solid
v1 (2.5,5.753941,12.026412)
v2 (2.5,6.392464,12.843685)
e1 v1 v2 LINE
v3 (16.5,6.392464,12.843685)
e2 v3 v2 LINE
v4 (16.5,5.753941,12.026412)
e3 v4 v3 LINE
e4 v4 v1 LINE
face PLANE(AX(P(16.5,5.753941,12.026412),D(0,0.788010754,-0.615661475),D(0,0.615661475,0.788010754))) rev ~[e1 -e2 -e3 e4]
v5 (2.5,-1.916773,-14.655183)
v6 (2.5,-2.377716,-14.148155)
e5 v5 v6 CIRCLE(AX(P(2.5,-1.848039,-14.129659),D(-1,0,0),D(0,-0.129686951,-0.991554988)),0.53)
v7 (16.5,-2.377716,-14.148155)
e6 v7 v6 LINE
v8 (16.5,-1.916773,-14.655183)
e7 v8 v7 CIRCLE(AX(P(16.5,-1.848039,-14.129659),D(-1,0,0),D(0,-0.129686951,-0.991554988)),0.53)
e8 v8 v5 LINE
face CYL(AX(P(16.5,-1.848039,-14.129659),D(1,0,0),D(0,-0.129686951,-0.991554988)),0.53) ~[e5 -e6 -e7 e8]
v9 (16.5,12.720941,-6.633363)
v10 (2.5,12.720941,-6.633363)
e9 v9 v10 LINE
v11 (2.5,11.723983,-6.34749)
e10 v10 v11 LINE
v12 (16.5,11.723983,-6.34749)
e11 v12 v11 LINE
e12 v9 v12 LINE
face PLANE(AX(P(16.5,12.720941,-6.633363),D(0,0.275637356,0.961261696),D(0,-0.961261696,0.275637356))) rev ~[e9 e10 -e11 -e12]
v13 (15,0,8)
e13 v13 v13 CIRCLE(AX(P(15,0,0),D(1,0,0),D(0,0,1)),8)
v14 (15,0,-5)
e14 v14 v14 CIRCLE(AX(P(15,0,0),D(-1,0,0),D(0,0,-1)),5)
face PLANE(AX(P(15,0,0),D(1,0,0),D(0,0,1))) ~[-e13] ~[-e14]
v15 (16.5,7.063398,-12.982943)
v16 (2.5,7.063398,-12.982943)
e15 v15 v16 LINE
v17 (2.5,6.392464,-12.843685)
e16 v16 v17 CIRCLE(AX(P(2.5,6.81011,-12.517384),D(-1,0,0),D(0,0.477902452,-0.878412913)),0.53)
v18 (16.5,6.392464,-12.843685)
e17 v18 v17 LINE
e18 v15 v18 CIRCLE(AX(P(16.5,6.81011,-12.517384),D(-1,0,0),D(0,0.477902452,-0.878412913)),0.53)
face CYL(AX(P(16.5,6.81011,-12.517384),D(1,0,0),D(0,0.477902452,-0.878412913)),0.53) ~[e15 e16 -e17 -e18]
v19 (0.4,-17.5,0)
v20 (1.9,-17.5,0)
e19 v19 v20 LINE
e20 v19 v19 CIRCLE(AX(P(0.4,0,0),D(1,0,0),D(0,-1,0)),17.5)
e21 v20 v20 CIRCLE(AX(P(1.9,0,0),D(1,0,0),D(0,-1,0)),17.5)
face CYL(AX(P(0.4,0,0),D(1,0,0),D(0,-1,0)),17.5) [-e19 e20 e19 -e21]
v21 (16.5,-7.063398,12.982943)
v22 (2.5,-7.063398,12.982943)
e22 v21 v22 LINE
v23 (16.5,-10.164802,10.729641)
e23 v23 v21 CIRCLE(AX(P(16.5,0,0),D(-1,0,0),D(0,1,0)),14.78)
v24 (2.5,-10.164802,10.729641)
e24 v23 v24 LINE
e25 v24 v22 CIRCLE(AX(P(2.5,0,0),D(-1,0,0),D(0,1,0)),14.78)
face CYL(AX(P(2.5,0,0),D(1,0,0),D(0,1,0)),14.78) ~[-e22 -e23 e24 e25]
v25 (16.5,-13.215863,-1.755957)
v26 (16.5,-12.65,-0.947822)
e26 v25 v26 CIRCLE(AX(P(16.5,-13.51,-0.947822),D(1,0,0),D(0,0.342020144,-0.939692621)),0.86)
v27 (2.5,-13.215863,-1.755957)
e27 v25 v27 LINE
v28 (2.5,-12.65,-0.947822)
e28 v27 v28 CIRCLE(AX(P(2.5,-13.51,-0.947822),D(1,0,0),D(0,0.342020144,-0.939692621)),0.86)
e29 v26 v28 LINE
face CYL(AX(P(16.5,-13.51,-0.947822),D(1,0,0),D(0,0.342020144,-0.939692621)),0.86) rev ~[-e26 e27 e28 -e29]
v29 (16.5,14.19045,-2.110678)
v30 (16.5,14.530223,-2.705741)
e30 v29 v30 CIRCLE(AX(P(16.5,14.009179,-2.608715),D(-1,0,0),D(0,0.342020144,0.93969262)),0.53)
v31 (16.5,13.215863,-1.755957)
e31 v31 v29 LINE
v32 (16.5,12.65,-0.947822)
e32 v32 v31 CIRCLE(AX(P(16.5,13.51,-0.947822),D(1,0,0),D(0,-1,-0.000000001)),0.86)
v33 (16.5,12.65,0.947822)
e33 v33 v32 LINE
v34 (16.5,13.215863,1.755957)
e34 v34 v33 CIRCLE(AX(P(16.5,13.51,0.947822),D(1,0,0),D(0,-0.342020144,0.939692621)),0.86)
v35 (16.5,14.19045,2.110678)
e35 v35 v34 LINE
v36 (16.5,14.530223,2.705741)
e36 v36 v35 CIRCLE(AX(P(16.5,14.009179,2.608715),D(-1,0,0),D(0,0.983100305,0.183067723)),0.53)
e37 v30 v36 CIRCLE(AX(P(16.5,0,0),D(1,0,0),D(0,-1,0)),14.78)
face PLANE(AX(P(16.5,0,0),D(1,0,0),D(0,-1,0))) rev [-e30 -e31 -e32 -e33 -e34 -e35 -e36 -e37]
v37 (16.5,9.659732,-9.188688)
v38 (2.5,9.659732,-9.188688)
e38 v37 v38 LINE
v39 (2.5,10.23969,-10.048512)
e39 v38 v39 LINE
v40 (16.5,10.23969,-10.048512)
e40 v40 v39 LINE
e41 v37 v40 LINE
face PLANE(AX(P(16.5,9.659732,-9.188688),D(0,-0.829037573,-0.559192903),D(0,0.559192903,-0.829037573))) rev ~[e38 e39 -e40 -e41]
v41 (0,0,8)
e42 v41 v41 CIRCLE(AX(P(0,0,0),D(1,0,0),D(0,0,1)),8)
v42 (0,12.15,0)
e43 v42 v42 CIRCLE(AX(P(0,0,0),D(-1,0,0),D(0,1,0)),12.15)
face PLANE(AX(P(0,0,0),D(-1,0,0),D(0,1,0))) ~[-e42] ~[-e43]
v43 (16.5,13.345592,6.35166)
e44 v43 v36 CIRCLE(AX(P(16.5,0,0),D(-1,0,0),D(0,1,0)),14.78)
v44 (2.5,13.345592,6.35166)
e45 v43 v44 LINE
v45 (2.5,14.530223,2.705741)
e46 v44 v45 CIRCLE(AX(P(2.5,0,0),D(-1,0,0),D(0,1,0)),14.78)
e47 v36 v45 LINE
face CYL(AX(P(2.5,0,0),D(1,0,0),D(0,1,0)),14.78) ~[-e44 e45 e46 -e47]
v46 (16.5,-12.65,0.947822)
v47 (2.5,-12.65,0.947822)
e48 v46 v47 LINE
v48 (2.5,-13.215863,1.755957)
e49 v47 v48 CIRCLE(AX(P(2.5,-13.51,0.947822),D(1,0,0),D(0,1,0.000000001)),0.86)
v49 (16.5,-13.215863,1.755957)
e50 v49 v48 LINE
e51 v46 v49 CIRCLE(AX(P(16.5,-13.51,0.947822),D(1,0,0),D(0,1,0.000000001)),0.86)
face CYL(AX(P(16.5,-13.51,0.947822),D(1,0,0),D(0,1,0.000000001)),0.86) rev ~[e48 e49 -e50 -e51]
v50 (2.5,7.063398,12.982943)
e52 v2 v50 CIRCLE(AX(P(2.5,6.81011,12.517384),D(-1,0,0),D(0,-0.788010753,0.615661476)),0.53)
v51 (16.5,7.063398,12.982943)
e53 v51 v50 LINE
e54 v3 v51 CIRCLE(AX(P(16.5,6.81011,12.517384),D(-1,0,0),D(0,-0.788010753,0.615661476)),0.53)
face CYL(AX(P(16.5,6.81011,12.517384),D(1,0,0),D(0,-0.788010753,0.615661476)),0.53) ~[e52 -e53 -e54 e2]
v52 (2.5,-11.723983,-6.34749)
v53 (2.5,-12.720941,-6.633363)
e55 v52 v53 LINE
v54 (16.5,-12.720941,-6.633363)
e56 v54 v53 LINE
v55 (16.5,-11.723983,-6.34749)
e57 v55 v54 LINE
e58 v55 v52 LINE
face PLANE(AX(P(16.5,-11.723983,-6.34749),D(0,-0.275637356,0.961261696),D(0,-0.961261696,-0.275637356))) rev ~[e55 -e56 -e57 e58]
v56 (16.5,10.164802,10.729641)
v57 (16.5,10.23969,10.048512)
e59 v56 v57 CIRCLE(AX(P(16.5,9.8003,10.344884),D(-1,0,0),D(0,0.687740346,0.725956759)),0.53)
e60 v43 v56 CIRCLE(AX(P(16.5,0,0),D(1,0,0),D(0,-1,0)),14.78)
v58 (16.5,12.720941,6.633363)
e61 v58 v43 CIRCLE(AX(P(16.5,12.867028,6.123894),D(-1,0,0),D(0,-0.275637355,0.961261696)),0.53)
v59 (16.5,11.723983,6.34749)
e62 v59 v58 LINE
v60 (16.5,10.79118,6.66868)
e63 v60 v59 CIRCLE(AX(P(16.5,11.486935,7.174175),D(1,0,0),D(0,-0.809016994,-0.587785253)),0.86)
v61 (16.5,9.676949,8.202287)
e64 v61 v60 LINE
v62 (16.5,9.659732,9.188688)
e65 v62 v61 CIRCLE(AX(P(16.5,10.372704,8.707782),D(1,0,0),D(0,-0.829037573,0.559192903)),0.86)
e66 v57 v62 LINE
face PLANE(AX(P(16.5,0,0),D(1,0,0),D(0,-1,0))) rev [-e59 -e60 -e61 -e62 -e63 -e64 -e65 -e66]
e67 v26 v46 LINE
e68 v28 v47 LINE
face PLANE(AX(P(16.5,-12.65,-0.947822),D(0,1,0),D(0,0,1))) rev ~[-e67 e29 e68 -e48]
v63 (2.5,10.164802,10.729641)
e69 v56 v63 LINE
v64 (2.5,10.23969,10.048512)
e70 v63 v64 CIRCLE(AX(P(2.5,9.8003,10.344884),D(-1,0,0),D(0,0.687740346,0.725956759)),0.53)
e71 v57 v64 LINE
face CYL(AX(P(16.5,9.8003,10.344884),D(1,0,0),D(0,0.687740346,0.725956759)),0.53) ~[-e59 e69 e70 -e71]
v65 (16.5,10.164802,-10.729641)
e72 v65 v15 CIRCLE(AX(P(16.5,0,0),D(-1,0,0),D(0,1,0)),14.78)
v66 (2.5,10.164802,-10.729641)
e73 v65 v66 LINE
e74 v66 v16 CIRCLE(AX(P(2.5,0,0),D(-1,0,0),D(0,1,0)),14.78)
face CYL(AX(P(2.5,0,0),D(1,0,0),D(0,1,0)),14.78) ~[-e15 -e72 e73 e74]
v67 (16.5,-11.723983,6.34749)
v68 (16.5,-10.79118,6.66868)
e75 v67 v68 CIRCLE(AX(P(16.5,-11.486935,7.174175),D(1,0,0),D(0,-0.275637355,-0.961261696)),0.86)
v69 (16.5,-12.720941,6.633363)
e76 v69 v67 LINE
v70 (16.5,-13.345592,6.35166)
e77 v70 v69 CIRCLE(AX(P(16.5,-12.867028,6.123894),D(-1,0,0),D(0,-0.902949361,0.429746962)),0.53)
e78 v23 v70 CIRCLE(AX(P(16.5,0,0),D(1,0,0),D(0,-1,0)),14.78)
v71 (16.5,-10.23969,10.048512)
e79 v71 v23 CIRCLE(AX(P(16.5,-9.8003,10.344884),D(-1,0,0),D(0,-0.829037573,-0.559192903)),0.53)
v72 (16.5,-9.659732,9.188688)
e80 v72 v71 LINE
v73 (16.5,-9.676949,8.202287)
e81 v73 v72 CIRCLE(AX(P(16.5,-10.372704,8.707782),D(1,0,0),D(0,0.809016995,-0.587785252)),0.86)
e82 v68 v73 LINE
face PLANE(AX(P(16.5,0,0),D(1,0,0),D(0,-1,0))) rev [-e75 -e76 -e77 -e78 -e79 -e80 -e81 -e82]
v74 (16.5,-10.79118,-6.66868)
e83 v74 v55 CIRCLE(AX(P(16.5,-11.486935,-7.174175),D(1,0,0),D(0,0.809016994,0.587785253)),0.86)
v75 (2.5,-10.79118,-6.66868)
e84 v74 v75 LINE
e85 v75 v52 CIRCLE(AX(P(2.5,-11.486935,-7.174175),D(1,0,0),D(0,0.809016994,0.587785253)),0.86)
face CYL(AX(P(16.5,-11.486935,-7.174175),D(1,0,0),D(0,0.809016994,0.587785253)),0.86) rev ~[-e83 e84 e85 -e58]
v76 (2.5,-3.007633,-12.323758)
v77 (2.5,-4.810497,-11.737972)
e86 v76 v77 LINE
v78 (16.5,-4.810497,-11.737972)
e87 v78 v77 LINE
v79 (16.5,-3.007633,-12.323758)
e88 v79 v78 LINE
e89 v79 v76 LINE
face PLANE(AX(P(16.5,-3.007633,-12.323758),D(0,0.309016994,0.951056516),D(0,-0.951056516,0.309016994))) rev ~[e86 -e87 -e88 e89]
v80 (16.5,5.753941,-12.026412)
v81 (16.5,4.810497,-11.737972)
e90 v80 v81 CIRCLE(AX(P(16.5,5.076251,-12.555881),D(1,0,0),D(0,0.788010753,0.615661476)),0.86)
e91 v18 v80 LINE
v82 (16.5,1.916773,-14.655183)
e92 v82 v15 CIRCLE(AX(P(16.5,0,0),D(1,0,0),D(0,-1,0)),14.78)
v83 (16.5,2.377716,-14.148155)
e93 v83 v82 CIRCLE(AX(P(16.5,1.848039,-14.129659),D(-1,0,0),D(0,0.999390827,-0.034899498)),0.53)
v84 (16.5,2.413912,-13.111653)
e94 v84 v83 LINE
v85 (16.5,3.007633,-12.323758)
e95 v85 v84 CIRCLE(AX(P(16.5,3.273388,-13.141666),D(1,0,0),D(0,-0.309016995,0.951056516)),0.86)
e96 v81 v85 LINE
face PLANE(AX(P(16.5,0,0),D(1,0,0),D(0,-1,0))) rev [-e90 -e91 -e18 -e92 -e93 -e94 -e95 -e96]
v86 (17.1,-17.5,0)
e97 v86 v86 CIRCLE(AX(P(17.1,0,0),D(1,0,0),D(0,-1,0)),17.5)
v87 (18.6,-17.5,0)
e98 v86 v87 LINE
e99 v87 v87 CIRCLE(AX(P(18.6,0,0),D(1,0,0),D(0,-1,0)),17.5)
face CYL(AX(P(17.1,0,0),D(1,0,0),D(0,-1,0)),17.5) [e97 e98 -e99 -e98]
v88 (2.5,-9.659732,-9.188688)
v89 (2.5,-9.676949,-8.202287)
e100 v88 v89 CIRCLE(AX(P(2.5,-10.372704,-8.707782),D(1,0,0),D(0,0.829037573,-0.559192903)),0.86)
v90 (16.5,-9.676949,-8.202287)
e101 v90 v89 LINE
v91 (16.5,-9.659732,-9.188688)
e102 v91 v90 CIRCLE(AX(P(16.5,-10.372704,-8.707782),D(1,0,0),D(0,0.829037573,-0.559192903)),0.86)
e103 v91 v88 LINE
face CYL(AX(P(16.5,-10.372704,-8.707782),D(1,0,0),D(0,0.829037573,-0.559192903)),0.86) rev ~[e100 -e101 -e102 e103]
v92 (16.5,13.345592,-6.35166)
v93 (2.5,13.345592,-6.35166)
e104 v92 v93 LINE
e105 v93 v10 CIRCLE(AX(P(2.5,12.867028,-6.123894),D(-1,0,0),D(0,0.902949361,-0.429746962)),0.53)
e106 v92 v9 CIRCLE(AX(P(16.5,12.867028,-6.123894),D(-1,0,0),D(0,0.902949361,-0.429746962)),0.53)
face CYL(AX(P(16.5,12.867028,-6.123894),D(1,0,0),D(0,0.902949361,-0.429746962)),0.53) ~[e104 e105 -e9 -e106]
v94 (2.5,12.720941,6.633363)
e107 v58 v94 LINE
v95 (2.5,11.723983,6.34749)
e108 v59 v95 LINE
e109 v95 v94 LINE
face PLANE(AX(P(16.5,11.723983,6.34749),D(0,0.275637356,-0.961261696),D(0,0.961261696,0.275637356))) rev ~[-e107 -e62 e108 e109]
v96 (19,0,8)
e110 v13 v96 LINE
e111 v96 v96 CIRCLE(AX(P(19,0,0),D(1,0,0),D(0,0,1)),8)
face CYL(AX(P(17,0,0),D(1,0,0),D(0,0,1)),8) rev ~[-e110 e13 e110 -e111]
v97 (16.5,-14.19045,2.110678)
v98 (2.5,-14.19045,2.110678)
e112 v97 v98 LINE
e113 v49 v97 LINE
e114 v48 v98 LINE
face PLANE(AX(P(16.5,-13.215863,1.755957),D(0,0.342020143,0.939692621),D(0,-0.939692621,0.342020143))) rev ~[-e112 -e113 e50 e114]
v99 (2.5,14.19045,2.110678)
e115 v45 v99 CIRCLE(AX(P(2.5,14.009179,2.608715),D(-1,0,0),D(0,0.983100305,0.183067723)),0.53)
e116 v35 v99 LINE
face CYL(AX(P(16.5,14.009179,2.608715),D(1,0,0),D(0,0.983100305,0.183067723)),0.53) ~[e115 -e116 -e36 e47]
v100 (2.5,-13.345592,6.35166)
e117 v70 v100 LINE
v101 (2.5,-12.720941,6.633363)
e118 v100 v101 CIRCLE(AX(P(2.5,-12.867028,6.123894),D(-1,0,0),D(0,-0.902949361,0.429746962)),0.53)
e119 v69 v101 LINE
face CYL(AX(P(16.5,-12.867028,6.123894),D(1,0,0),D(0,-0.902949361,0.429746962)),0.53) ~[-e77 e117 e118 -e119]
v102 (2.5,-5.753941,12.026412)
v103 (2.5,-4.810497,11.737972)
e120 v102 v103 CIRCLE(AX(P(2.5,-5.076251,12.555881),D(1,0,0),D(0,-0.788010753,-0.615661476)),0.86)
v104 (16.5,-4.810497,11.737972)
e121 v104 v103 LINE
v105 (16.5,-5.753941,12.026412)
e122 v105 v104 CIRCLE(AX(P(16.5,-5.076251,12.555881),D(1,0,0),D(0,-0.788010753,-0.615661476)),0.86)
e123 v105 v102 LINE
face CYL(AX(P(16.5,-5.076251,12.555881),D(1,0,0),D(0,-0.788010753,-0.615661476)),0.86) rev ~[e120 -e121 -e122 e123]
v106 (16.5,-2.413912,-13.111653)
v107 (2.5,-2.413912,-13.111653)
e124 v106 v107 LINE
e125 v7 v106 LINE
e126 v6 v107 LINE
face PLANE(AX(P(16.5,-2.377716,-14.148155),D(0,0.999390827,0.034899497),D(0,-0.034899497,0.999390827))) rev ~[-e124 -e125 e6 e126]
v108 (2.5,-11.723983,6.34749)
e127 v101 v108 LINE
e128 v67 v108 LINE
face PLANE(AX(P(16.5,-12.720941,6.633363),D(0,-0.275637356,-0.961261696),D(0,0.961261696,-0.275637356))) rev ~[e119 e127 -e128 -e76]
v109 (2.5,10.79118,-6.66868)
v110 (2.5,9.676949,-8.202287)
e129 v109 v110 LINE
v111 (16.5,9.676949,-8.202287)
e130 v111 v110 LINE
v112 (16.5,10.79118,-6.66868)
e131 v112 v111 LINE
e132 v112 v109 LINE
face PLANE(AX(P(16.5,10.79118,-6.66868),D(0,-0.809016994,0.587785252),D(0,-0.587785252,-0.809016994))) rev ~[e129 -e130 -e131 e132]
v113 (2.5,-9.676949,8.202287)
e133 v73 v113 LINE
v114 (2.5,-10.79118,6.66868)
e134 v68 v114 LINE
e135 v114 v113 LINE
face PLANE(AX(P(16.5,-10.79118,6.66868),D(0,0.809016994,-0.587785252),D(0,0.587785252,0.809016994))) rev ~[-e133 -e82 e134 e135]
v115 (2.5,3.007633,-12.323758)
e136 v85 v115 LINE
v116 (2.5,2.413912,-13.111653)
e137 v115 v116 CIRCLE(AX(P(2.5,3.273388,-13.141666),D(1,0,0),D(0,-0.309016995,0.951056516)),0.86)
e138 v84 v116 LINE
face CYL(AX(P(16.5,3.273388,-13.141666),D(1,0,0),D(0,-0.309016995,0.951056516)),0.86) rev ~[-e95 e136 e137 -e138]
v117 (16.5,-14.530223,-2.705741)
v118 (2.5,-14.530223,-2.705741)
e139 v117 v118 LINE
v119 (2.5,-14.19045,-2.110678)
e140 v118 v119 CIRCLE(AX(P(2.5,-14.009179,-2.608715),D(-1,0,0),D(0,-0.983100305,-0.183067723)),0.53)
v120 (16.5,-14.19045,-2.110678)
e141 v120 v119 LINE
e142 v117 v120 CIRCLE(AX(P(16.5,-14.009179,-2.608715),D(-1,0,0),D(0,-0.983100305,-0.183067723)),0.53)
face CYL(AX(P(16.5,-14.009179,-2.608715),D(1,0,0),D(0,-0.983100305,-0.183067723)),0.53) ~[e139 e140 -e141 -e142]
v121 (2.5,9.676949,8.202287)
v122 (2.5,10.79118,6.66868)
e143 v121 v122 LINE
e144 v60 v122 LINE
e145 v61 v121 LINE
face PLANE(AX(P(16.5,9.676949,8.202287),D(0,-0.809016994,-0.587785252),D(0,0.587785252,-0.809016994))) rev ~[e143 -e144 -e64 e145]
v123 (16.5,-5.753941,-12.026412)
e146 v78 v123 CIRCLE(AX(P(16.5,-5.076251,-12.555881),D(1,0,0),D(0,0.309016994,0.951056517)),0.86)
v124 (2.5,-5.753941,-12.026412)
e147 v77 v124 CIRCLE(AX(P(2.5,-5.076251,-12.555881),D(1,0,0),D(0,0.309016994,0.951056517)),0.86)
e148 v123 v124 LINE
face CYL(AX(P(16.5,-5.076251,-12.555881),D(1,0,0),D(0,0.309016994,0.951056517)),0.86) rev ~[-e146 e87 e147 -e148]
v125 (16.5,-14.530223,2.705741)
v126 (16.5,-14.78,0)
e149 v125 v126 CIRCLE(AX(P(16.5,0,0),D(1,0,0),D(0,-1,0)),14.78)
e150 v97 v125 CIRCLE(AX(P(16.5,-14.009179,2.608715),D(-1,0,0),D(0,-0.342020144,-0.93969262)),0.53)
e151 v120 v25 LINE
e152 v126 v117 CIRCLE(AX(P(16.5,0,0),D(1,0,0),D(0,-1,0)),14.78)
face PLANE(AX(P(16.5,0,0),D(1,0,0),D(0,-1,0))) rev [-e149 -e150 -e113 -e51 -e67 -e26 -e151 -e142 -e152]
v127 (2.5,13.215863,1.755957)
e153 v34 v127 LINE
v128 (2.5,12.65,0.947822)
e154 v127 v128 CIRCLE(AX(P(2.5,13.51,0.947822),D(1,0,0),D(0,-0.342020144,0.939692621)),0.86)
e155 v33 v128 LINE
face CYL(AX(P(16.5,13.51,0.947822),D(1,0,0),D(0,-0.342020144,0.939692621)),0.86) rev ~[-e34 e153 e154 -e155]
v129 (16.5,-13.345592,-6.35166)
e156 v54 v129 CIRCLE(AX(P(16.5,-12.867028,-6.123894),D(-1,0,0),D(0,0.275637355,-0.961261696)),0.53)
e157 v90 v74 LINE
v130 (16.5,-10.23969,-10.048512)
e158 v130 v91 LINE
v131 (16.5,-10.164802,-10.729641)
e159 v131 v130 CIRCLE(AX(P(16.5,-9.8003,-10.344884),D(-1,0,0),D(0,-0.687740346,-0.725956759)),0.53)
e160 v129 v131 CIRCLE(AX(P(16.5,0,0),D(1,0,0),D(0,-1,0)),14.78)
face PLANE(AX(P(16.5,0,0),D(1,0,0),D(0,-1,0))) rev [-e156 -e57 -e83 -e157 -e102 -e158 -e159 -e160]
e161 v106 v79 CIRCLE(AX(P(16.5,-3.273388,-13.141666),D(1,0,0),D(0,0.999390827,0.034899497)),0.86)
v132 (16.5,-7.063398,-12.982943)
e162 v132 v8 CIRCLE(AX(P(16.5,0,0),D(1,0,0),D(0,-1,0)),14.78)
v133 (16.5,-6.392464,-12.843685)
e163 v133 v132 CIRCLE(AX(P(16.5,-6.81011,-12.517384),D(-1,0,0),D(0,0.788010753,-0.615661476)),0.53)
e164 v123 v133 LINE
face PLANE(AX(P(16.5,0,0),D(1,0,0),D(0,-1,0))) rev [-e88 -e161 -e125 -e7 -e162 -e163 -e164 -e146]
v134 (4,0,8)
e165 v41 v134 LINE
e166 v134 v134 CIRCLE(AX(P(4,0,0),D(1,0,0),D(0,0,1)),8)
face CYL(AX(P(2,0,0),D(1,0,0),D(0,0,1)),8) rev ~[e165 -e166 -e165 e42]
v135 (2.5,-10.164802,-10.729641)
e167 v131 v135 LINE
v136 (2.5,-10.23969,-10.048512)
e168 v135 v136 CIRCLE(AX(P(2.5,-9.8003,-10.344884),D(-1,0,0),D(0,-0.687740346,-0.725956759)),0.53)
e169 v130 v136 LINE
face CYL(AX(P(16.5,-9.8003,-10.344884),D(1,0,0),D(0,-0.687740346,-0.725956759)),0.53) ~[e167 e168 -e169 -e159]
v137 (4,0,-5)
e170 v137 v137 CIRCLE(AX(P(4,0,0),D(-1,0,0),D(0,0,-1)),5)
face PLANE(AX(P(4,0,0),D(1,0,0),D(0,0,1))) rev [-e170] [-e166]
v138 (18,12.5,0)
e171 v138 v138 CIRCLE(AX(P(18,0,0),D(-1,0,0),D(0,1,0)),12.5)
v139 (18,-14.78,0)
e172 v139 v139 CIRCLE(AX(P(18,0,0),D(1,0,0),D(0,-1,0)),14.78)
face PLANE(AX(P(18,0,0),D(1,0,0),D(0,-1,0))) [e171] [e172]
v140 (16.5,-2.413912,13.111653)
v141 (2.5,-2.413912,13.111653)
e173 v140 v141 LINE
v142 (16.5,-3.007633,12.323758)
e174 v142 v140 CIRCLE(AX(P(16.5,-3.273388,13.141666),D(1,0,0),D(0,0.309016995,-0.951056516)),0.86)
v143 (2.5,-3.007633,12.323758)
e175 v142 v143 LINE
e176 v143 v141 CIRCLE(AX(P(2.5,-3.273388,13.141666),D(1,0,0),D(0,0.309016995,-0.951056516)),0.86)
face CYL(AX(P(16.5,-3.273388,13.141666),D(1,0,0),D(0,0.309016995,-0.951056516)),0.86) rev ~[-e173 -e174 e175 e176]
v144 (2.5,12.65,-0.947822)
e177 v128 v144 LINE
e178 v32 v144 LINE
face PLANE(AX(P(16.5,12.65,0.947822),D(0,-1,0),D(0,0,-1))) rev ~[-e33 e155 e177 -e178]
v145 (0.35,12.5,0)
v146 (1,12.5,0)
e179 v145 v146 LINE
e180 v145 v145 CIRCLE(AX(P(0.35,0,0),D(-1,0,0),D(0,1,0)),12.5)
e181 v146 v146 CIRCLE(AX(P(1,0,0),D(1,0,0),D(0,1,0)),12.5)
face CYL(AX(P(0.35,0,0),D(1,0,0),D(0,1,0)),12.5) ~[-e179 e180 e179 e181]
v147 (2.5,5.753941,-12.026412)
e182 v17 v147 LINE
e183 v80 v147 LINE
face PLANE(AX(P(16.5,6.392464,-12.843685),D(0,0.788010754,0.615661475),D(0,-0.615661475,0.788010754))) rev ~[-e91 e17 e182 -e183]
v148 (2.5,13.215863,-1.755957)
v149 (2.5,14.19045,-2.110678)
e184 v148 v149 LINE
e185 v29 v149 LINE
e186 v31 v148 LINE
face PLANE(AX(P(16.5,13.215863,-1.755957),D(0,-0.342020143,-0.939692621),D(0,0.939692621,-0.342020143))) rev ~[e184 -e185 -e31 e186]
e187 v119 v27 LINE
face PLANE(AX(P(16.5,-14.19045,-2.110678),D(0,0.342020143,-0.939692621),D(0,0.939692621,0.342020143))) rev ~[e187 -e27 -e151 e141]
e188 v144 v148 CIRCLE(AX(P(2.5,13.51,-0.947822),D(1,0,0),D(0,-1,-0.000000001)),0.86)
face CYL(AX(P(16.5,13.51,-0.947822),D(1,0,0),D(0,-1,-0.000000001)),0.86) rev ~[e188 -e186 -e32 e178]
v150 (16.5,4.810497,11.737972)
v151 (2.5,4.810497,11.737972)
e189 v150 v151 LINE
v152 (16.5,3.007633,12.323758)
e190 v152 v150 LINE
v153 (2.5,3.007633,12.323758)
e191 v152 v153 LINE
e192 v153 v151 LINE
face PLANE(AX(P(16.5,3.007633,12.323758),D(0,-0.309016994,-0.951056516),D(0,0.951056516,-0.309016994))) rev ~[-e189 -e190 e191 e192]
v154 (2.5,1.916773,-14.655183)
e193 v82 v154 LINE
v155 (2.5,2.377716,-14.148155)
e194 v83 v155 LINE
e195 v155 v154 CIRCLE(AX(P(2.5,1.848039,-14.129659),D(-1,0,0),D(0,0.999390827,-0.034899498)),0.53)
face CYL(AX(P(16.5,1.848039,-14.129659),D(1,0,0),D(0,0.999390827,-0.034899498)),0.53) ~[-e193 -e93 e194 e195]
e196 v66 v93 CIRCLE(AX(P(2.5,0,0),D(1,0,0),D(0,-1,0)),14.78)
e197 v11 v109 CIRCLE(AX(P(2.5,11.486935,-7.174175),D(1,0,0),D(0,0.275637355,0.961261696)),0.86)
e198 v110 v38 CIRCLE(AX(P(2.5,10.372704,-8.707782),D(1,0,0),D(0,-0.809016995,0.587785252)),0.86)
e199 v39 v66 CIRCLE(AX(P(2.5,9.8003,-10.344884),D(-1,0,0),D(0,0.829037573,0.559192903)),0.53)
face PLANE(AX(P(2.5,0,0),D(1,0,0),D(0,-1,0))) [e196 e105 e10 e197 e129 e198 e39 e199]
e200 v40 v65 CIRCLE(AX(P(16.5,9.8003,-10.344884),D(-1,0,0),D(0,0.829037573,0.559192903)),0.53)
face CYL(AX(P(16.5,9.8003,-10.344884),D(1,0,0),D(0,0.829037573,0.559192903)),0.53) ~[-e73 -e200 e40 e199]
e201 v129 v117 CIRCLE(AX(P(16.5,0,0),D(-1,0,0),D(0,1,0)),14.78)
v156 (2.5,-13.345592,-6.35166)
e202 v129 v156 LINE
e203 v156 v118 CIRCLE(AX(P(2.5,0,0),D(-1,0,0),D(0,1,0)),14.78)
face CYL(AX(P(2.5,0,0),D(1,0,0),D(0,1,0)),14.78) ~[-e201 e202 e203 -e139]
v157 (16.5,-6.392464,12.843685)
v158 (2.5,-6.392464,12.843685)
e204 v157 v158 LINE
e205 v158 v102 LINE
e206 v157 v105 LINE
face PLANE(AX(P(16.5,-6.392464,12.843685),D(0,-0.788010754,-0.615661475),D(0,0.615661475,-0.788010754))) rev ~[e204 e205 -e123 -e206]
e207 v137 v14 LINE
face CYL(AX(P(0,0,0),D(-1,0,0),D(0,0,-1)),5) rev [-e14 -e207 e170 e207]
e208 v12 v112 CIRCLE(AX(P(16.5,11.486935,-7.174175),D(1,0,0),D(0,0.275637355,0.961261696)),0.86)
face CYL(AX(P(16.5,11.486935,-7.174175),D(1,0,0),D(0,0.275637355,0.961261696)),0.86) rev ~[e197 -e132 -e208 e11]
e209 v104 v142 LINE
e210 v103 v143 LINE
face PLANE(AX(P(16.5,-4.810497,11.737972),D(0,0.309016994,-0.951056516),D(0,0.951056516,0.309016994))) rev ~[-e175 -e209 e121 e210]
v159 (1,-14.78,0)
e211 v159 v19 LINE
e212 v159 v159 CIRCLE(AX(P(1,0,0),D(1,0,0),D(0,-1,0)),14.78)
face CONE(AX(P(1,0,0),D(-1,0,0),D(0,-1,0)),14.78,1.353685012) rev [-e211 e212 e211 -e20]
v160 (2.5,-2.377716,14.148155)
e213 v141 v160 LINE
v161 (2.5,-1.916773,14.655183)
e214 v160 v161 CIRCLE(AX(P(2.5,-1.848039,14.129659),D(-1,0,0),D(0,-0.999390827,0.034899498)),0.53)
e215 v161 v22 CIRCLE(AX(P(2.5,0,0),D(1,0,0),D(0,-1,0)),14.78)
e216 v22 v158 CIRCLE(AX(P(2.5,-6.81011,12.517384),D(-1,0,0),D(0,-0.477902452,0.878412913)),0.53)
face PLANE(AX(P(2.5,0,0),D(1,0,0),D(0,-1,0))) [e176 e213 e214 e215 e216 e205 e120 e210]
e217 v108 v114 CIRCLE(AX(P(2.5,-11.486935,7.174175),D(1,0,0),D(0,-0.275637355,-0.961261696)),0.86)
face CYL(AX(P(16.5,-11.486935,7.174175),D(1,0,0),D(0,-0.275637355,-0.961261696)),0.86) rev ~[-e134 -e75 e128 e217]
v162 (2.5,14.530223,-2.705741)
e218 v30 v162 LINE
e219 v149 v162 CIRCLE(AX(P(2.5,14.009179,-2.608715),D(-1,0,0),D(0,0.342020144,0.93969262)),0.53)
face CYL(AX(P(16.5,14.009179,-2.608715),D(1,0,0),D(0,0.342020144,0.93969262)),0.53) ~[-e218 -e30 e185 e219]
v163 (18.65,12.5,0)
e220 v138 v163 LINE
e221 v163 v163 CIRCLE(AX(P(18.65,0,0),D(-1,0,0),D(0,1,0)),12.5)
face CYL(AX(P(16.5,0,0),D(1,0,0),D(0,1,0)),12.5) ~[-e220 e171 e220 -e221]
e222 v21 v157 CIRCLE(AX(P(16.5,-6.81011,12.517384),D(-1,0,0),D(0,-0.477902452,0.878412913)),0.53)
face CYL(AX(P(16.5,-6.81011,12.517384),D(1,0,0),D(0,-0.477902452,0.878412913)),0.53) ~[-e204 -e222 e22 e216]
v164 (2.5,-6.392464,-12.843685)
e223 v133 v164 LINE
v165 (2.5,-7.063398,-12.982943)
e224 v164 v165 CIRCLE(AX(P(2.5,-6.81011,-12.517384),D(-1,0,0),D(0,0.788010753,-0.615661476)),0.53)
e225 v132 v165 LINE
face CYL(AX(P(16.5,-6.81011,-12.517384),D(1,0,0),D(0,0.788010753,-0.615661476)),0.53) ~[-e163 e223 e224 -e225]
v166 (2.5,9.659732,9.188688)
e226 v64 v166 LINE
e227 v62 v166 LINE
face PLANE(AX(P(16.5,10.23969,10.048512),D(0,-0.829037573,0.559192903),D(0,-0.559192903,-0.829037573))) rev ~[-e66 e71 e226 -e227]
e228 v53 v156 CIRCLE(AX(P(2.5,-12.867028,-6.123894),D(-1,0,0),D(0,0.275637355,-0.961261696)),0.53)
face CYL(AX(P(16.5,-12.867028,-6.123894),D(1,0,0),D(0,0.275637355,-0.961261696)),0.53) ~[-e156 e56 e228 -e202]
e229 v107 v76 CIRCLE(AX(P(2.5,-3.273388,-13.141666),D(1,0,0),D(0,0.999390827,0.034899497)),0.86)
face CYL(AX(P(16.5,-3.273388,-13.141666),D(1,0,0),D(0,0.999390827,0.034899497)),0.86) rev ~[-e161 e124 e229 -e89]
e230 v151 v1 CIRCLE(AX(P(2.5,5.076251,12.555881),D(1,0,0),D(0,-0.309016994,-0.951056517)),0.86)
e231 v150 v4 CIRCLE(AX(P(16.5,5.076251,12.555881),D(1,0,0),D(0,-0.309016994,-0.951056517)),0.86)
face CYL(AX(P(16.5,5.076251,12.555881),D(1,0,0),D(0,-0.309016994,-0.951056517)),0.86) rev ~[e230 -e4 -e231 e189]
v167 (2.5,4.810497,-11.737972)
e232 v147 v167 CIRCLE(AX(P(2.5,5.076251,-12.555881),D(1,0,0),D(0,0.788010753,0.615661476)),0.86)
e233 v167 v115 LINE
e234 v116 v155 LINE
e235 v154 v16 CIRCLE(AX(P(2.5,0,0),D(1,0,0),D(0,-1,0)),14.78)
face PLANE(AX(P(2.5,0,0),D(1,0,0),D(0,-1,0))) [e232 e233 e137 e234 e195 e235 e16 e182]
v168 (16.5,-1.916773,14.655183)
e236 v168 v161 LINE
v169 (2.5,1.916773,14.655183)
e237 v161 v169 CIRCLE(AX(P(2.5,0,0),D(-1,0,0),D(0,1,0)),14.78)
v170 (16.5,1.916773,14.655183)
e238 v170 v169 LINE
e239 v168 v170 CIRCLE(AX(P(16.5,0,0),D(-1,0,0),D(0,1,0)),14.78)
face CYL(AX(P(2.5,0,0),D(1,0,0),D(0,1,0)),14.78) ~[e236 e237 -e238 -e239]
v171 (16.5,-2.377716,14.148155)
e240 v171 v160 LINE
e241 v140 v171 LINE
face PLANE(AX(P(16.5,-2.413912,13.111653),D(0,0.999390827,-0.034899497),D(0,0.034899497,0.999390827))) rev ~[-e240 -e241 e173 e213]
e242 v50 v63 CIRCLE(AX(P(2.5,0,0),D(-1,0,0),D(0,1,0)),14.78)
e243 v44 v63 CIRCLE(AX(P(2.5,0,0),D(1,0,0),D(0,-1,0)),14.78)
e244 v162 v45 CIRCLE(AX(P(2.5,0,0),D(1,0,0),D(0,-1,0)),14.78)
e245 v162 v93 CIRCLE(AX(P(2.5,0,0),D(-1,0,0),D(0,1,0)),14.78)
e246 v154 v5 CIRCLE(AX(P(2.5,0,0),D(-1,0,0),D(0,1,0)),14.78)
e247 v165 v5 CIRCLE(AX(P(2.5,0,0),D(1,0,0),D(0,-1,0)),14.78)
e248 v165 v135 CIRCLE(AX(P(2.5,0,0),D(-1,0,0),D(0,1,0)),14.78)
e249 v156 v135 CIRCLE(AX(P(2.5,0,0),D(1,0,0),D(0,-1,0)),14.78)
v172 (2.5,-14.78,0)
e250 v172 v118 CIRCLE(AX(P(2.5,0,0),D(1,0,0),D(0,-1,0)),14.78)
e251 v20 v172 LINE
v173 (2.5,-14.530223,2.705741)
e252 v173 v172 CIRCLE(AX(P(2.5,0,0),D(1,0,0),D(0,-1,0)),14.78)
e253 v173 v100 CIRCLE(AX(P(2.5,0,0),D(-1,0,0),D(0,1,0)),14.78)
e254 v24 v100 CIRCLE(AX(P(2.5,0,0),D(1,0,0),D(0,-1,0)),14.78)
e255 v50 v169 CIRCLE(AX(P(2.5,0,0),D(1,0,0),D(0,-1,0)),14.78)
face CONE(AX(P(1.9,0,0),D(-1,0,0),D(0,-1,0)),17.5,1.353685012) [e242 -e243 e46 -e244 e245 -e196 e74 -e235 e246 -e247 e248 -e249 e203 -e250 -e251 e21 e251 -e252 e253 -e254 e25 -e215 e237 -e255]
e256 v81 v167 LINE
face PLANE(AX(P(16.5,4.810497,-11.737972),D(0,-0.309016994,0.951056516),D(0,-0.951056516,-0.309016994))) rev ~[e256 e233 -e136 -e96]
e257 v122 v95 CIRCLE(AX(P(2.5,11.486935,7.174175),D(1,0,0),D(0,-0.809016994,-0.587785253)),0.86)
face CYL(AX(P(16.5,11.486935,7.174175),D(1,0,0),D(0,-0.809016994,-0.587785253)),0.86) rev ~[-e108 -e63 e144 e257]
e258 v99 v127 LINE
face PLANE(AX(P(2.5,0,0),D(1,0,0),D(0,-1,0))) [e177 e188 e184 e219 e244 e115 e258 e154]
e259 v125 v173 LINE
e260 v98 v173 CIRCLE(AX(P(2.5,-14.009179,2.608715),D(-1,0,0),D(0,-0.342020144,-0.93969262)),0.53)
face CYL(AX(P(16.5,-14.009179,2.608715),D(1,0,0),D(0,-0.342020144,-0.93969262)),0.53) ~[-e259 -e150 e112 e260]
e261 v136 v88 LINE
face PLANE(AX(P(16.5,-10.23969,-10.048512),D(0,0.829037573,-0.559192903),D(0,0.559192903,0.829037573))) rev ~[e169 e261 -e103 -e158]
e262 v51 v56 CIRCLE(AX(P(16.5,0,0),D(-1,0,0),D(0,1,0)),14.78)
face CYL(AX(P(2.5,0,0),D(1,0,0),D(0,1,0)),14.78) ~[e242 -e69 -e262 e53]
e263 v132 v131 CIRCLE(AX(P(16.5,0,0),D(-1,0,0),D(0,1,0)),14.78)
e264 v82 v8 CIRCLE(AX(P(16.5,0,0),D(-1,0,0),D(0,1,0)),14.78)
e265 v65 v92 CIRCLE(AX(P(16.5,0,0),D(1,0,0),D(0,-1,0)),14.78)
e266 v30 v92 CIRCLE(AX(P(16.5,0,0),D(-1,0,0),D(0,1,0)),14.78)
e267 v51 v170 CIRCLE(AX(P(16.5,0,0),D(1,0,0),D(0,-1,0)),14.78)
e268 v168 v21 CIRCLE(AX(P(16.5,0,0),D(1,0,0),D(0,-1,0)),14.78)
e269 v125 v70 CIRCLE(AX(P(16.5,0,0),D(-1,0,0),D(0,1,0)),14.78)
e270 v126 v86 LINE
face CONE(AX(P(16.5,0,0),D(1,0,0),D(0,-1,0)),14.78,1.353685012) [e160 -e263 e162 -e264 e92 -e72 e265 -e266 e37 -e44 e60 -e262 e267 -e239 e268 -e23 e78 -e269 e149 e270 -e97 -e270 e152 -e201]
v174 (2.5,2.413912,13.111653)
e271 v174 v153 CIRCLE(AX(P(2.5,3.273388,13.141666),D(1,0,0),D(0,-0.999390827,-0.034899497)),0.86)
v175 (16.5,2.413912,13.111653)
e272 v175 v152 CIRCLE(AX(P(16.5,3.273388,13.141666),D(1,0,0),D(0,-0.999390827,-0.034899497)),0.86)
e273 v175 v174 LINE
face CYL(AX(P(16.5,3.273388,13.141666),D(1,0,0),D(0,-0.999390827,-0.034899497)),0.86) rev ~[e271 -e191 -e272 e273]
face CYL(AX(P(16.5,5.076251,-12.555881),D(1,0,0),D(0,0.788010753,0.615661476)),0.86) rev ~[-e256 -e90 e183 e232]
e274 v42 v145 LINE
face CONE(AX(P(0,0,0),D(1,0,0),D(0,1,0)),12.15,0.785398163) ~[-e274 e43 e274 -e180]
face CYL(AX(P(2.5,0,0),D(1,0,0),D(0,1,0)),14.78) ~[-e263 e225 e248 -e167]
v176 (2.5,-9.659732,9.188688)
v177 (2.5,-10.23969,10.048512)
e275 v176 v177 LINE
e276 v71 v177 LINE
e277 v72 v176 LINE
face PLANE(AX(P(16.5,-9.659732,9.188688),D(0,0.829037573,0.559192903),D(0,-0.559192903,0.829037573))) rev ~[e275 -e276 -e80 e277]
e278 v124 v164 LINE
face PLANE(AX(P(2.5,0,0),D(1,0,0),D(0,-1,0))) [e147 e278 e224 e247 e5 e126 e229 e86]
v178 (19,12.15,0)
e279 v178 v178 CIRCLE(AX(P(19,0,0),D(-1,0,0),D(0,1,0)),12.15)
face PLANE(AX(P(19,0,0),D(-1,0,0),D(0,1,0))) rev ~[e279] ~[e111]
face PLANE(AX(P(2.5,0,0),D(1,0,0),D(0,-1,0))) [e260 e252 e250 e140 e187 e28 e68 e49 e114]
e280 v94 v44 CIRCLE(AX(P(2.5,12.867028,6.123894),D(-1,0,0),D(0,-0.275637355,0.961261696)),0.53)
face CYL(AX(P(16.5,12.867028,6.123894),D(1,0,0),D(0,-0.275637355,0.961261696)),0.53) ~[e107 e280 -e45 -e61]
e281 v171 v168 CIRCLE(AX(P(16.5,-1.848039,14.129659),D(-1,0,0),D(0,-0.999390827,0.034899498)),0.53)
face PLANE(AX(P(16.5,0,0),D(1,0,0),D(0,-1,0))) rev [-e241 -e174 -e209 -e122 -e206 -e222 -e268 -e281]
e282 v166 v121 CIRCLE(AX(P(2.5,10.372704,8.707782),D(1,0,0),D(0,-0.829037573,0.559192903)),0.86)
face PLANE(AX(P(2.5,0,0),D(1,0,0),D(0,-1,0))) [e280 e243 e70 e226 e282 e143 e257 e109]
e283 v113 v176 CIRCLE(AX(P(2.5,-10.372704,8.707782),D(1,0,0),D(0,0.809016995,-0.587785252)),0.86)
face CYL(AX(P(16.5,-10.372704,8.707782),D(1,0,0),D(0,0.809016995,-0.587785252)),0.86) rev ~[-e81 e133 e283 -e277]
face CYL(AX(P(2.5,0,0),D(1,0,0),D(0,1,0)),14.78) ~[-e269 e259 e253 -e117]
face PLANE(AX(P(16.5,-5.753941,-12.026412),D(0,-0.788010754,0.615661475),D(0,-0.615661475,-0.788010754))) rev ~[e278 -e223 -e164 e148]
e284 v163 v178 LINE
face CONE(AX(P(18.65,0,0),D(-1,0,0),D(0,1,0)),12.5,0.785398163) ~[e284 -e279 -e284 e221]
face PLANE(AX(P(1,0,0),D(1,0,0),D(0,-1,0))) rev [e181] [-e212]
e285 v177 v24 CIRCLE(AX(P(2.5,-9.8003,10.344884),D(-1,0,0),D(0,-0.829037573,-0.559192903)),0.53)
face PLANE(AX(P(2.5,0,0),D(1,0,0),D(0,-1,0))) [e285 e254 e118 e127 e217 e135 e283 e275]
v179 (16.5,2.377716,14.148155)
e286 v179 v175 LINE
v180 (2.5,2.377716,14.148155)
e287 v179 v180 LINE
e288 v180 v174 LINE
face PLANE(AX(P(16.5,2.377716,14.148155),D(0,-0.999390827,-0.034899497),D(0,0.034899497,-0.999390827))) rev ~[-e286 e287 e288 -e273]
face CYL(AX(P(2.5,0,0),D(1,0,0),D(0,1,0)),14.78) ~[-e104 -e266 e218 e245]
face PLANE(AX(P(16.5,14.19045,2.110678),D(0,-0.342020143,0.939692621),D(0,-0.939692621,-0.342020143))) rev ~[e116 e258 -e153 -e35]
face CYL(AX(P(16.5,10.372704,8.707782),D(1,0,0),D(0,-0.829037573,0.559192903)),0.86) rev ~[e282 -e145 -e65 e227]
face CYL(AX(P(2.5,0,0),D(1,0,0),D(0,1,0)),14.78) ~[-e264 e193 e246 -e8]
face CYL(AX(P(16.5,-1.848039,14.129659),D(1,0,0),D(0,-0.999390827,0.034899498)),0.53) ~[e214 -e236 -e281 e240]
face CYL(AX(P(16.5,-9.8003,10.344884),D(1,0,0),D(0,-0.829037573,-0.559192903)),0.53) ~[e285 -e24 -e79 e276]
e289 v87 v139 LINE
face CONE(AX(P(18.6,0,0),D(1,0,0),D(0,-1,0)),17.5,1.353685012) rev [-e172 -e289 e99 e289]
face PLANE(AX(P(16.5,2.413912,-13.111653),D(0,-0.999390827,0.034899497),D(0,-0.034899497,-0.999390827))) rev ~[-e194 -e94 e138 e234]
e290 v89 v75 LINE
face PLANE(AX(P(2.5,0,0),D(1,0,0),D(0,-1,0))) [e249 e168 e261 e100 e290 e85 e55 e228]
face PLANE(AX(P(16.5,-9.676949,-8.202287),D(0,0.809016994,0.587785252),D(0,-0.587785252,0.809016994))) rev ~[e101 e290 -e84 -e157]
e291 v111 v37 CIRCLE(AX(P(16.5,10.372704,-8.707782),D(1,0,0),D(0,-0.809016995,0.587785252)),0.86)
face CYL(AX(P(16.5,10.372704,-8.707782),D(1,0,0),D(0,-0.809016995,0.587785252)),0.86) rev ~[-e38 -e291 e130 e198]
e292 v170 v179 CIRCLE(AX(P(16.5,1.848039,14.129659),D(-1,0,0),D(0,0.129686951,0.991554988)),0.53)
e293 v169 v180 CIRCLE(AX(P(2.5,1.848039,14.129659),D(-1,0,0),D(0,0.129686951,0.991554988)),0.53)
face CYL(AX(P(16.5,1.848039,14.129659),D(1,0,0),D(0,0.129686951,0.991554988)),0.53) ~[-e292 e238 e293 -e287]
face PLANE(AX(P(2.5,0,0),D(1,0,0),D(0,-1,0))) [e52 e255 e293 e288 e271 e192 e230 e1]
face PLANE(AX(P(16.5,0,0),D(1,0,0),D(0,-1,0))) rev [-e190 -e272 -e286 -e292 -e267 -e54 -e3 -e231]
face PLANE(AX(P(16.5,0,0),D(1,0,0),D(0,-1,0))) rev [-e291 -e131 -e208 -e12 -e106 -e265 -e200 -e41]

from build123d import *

# Parameters (mm, degrees)
CUT_EXTRUDE_START        = 16.5
CUT_EXTRUDE_1_DEPTH      = 14
PATTERN_CIRCULAR_1_COUNT = 10
SKETCH_6_R               = 5
CUT_EXTRUDE_2_DEPTH      = 32.200961524
CHAMFER_1_SIZE           = 0.18
SKETCH_10_W              = 4
SKETCH_10_H              = 8


with BuildPart() as part:
    # 草图3 → 旋转1 (revolve)
    with BuildSketch(Plane.XY):
        Polygon((0, 0), (0, 12.15), (0.35, 12.5), (2.5, 12.5), (2.5, 14.78), (16.5, 14.78), (16.5, 12.5), (18.65, 12.5), (19, 12.15), (19, 0), align=None)
    revolve(axis=Axis((19, 0, 0), (-1, 0, 0)))

    # 草图4 → Cut-Extrude 1 (cut)
    with BuildSketch(Plane(origin=(0, 0, 0), x_dir=(0, 0, -1), z_dir=(1, 0, 0)).offset(CUT_EXTRUDE_START)):
        with BuildLine():
            Line((-0.947821517, 12.65), (0.947821517, 12.65))
            ThreePointArc((0.947821517, 12.65), (1.441097252, 12.805529242), (1.755957171, 13.215862677))
            Line((1.755957171, 13.215862677), (2.110677954, 14.190450018))
            ThreePointArc((2.110677954, 14.190450018), (2.345915061, 14.469435976), (2.705740936, 14.530222503))
            ThreePointArc((2.705740936, 14.530222503), (0, 14.78), (-2.705740936, 14.530222503))
            ThreePointArc((-2.705740936, 14.530222503), (-2.345915061, 14.469435976), (-2.110677954, 14.190450018))
            Line((-2.110677954, 14.190450018), (-1.755957171, 13.215862677))
            ThreePointArc((-1.755957171, 13.215862677), (-1.441097252, 12.805529242), (-0.947821517, 12.65))
        make_face()
    cut_extrude_1 = extrude(amount=-CUT_EXTRUDE_1_DEPTH, mode=Mode.SUBTRACT)

    # 阵列(圆周)1: Cut-Extrude 1 ×10 about axis
    pattern_circular_1_axis = Axis((0, 0, 0), (1, 0, 0))
    for i in range(1, PATTERN_CIRCULAR_1_COUNT):
        add(cut_extrude_1.rotate(pattern_circular_1_axis, i * 360 / PATTERN_CIRCULAR_1_COUNT), mode=Mode.SUBTRACT)

    # 草图5 → 旋转2 (revolve)
    with BuildSketch(Plane.XY, mode=Mode.PRIVATE) as revolve_2_sk:
        Polygon((1.9, 17.5), (2.5, 14.78), (2.5, 12.5), (1, 12.5), (1, 14.78), (0.4, 17.5), align=None)
        Polygon((18, 12.5), (16.5, 12.5), (16.5, 14.78), (17.1, 17.5), (18.6, 17.5), (18, 14.78), align=None)
    revolve(revolve_2_sk.sketch.rotate(Axis((0, 0, 0), (1, 0, 0)), 180), axis=Axis((0, 0, 0), (1, 0, 0)))

    # 草图6 → 切除-拉伸2 (cut, through all)
    with BuildSketch(Plane(origin=(0, 0, 0), x_dir=(0, 0, -1), z_dir=(1, 0, 0))):
        Circle(SKETCH_6_R)
    extrude(amount=CUT_EXTRUDE_2_DEPTH, mode=Mode.SUBTRACT)

    # 倒角1
    chamfer_1_edges = [part.edges().sort_by_distance(p)[0] for p in [
        (0, 0, 5),
        (19, 0, 5),
    ]]
    chamfer(chamfer_1_edges, length=CHAMFER_1_SIZE)

    # 草图10 → Cut-Revolve 8089 (revolve, cut)
    with BuildSketch(Plane.XY, mode=Mode.PRIVATE) as cut_revolve_8089_sk:
        with Locations((17, 4)):
            Rectangle(SKETCH_10_W, SKETCH_10_H)
        with Locations((2, 4)):
            Rectangle(SKETCH_10_W, SKETCH_10_H)
    revolve(cut_revolve_8089_sk.sketch.rotate(Axis((0, 0, 0), (1, 0, 0)), 90), axis=Axis((0, 0, 0), (1, 0, 0)), mode=Mode.SUBTRACT)


solid = part.part
